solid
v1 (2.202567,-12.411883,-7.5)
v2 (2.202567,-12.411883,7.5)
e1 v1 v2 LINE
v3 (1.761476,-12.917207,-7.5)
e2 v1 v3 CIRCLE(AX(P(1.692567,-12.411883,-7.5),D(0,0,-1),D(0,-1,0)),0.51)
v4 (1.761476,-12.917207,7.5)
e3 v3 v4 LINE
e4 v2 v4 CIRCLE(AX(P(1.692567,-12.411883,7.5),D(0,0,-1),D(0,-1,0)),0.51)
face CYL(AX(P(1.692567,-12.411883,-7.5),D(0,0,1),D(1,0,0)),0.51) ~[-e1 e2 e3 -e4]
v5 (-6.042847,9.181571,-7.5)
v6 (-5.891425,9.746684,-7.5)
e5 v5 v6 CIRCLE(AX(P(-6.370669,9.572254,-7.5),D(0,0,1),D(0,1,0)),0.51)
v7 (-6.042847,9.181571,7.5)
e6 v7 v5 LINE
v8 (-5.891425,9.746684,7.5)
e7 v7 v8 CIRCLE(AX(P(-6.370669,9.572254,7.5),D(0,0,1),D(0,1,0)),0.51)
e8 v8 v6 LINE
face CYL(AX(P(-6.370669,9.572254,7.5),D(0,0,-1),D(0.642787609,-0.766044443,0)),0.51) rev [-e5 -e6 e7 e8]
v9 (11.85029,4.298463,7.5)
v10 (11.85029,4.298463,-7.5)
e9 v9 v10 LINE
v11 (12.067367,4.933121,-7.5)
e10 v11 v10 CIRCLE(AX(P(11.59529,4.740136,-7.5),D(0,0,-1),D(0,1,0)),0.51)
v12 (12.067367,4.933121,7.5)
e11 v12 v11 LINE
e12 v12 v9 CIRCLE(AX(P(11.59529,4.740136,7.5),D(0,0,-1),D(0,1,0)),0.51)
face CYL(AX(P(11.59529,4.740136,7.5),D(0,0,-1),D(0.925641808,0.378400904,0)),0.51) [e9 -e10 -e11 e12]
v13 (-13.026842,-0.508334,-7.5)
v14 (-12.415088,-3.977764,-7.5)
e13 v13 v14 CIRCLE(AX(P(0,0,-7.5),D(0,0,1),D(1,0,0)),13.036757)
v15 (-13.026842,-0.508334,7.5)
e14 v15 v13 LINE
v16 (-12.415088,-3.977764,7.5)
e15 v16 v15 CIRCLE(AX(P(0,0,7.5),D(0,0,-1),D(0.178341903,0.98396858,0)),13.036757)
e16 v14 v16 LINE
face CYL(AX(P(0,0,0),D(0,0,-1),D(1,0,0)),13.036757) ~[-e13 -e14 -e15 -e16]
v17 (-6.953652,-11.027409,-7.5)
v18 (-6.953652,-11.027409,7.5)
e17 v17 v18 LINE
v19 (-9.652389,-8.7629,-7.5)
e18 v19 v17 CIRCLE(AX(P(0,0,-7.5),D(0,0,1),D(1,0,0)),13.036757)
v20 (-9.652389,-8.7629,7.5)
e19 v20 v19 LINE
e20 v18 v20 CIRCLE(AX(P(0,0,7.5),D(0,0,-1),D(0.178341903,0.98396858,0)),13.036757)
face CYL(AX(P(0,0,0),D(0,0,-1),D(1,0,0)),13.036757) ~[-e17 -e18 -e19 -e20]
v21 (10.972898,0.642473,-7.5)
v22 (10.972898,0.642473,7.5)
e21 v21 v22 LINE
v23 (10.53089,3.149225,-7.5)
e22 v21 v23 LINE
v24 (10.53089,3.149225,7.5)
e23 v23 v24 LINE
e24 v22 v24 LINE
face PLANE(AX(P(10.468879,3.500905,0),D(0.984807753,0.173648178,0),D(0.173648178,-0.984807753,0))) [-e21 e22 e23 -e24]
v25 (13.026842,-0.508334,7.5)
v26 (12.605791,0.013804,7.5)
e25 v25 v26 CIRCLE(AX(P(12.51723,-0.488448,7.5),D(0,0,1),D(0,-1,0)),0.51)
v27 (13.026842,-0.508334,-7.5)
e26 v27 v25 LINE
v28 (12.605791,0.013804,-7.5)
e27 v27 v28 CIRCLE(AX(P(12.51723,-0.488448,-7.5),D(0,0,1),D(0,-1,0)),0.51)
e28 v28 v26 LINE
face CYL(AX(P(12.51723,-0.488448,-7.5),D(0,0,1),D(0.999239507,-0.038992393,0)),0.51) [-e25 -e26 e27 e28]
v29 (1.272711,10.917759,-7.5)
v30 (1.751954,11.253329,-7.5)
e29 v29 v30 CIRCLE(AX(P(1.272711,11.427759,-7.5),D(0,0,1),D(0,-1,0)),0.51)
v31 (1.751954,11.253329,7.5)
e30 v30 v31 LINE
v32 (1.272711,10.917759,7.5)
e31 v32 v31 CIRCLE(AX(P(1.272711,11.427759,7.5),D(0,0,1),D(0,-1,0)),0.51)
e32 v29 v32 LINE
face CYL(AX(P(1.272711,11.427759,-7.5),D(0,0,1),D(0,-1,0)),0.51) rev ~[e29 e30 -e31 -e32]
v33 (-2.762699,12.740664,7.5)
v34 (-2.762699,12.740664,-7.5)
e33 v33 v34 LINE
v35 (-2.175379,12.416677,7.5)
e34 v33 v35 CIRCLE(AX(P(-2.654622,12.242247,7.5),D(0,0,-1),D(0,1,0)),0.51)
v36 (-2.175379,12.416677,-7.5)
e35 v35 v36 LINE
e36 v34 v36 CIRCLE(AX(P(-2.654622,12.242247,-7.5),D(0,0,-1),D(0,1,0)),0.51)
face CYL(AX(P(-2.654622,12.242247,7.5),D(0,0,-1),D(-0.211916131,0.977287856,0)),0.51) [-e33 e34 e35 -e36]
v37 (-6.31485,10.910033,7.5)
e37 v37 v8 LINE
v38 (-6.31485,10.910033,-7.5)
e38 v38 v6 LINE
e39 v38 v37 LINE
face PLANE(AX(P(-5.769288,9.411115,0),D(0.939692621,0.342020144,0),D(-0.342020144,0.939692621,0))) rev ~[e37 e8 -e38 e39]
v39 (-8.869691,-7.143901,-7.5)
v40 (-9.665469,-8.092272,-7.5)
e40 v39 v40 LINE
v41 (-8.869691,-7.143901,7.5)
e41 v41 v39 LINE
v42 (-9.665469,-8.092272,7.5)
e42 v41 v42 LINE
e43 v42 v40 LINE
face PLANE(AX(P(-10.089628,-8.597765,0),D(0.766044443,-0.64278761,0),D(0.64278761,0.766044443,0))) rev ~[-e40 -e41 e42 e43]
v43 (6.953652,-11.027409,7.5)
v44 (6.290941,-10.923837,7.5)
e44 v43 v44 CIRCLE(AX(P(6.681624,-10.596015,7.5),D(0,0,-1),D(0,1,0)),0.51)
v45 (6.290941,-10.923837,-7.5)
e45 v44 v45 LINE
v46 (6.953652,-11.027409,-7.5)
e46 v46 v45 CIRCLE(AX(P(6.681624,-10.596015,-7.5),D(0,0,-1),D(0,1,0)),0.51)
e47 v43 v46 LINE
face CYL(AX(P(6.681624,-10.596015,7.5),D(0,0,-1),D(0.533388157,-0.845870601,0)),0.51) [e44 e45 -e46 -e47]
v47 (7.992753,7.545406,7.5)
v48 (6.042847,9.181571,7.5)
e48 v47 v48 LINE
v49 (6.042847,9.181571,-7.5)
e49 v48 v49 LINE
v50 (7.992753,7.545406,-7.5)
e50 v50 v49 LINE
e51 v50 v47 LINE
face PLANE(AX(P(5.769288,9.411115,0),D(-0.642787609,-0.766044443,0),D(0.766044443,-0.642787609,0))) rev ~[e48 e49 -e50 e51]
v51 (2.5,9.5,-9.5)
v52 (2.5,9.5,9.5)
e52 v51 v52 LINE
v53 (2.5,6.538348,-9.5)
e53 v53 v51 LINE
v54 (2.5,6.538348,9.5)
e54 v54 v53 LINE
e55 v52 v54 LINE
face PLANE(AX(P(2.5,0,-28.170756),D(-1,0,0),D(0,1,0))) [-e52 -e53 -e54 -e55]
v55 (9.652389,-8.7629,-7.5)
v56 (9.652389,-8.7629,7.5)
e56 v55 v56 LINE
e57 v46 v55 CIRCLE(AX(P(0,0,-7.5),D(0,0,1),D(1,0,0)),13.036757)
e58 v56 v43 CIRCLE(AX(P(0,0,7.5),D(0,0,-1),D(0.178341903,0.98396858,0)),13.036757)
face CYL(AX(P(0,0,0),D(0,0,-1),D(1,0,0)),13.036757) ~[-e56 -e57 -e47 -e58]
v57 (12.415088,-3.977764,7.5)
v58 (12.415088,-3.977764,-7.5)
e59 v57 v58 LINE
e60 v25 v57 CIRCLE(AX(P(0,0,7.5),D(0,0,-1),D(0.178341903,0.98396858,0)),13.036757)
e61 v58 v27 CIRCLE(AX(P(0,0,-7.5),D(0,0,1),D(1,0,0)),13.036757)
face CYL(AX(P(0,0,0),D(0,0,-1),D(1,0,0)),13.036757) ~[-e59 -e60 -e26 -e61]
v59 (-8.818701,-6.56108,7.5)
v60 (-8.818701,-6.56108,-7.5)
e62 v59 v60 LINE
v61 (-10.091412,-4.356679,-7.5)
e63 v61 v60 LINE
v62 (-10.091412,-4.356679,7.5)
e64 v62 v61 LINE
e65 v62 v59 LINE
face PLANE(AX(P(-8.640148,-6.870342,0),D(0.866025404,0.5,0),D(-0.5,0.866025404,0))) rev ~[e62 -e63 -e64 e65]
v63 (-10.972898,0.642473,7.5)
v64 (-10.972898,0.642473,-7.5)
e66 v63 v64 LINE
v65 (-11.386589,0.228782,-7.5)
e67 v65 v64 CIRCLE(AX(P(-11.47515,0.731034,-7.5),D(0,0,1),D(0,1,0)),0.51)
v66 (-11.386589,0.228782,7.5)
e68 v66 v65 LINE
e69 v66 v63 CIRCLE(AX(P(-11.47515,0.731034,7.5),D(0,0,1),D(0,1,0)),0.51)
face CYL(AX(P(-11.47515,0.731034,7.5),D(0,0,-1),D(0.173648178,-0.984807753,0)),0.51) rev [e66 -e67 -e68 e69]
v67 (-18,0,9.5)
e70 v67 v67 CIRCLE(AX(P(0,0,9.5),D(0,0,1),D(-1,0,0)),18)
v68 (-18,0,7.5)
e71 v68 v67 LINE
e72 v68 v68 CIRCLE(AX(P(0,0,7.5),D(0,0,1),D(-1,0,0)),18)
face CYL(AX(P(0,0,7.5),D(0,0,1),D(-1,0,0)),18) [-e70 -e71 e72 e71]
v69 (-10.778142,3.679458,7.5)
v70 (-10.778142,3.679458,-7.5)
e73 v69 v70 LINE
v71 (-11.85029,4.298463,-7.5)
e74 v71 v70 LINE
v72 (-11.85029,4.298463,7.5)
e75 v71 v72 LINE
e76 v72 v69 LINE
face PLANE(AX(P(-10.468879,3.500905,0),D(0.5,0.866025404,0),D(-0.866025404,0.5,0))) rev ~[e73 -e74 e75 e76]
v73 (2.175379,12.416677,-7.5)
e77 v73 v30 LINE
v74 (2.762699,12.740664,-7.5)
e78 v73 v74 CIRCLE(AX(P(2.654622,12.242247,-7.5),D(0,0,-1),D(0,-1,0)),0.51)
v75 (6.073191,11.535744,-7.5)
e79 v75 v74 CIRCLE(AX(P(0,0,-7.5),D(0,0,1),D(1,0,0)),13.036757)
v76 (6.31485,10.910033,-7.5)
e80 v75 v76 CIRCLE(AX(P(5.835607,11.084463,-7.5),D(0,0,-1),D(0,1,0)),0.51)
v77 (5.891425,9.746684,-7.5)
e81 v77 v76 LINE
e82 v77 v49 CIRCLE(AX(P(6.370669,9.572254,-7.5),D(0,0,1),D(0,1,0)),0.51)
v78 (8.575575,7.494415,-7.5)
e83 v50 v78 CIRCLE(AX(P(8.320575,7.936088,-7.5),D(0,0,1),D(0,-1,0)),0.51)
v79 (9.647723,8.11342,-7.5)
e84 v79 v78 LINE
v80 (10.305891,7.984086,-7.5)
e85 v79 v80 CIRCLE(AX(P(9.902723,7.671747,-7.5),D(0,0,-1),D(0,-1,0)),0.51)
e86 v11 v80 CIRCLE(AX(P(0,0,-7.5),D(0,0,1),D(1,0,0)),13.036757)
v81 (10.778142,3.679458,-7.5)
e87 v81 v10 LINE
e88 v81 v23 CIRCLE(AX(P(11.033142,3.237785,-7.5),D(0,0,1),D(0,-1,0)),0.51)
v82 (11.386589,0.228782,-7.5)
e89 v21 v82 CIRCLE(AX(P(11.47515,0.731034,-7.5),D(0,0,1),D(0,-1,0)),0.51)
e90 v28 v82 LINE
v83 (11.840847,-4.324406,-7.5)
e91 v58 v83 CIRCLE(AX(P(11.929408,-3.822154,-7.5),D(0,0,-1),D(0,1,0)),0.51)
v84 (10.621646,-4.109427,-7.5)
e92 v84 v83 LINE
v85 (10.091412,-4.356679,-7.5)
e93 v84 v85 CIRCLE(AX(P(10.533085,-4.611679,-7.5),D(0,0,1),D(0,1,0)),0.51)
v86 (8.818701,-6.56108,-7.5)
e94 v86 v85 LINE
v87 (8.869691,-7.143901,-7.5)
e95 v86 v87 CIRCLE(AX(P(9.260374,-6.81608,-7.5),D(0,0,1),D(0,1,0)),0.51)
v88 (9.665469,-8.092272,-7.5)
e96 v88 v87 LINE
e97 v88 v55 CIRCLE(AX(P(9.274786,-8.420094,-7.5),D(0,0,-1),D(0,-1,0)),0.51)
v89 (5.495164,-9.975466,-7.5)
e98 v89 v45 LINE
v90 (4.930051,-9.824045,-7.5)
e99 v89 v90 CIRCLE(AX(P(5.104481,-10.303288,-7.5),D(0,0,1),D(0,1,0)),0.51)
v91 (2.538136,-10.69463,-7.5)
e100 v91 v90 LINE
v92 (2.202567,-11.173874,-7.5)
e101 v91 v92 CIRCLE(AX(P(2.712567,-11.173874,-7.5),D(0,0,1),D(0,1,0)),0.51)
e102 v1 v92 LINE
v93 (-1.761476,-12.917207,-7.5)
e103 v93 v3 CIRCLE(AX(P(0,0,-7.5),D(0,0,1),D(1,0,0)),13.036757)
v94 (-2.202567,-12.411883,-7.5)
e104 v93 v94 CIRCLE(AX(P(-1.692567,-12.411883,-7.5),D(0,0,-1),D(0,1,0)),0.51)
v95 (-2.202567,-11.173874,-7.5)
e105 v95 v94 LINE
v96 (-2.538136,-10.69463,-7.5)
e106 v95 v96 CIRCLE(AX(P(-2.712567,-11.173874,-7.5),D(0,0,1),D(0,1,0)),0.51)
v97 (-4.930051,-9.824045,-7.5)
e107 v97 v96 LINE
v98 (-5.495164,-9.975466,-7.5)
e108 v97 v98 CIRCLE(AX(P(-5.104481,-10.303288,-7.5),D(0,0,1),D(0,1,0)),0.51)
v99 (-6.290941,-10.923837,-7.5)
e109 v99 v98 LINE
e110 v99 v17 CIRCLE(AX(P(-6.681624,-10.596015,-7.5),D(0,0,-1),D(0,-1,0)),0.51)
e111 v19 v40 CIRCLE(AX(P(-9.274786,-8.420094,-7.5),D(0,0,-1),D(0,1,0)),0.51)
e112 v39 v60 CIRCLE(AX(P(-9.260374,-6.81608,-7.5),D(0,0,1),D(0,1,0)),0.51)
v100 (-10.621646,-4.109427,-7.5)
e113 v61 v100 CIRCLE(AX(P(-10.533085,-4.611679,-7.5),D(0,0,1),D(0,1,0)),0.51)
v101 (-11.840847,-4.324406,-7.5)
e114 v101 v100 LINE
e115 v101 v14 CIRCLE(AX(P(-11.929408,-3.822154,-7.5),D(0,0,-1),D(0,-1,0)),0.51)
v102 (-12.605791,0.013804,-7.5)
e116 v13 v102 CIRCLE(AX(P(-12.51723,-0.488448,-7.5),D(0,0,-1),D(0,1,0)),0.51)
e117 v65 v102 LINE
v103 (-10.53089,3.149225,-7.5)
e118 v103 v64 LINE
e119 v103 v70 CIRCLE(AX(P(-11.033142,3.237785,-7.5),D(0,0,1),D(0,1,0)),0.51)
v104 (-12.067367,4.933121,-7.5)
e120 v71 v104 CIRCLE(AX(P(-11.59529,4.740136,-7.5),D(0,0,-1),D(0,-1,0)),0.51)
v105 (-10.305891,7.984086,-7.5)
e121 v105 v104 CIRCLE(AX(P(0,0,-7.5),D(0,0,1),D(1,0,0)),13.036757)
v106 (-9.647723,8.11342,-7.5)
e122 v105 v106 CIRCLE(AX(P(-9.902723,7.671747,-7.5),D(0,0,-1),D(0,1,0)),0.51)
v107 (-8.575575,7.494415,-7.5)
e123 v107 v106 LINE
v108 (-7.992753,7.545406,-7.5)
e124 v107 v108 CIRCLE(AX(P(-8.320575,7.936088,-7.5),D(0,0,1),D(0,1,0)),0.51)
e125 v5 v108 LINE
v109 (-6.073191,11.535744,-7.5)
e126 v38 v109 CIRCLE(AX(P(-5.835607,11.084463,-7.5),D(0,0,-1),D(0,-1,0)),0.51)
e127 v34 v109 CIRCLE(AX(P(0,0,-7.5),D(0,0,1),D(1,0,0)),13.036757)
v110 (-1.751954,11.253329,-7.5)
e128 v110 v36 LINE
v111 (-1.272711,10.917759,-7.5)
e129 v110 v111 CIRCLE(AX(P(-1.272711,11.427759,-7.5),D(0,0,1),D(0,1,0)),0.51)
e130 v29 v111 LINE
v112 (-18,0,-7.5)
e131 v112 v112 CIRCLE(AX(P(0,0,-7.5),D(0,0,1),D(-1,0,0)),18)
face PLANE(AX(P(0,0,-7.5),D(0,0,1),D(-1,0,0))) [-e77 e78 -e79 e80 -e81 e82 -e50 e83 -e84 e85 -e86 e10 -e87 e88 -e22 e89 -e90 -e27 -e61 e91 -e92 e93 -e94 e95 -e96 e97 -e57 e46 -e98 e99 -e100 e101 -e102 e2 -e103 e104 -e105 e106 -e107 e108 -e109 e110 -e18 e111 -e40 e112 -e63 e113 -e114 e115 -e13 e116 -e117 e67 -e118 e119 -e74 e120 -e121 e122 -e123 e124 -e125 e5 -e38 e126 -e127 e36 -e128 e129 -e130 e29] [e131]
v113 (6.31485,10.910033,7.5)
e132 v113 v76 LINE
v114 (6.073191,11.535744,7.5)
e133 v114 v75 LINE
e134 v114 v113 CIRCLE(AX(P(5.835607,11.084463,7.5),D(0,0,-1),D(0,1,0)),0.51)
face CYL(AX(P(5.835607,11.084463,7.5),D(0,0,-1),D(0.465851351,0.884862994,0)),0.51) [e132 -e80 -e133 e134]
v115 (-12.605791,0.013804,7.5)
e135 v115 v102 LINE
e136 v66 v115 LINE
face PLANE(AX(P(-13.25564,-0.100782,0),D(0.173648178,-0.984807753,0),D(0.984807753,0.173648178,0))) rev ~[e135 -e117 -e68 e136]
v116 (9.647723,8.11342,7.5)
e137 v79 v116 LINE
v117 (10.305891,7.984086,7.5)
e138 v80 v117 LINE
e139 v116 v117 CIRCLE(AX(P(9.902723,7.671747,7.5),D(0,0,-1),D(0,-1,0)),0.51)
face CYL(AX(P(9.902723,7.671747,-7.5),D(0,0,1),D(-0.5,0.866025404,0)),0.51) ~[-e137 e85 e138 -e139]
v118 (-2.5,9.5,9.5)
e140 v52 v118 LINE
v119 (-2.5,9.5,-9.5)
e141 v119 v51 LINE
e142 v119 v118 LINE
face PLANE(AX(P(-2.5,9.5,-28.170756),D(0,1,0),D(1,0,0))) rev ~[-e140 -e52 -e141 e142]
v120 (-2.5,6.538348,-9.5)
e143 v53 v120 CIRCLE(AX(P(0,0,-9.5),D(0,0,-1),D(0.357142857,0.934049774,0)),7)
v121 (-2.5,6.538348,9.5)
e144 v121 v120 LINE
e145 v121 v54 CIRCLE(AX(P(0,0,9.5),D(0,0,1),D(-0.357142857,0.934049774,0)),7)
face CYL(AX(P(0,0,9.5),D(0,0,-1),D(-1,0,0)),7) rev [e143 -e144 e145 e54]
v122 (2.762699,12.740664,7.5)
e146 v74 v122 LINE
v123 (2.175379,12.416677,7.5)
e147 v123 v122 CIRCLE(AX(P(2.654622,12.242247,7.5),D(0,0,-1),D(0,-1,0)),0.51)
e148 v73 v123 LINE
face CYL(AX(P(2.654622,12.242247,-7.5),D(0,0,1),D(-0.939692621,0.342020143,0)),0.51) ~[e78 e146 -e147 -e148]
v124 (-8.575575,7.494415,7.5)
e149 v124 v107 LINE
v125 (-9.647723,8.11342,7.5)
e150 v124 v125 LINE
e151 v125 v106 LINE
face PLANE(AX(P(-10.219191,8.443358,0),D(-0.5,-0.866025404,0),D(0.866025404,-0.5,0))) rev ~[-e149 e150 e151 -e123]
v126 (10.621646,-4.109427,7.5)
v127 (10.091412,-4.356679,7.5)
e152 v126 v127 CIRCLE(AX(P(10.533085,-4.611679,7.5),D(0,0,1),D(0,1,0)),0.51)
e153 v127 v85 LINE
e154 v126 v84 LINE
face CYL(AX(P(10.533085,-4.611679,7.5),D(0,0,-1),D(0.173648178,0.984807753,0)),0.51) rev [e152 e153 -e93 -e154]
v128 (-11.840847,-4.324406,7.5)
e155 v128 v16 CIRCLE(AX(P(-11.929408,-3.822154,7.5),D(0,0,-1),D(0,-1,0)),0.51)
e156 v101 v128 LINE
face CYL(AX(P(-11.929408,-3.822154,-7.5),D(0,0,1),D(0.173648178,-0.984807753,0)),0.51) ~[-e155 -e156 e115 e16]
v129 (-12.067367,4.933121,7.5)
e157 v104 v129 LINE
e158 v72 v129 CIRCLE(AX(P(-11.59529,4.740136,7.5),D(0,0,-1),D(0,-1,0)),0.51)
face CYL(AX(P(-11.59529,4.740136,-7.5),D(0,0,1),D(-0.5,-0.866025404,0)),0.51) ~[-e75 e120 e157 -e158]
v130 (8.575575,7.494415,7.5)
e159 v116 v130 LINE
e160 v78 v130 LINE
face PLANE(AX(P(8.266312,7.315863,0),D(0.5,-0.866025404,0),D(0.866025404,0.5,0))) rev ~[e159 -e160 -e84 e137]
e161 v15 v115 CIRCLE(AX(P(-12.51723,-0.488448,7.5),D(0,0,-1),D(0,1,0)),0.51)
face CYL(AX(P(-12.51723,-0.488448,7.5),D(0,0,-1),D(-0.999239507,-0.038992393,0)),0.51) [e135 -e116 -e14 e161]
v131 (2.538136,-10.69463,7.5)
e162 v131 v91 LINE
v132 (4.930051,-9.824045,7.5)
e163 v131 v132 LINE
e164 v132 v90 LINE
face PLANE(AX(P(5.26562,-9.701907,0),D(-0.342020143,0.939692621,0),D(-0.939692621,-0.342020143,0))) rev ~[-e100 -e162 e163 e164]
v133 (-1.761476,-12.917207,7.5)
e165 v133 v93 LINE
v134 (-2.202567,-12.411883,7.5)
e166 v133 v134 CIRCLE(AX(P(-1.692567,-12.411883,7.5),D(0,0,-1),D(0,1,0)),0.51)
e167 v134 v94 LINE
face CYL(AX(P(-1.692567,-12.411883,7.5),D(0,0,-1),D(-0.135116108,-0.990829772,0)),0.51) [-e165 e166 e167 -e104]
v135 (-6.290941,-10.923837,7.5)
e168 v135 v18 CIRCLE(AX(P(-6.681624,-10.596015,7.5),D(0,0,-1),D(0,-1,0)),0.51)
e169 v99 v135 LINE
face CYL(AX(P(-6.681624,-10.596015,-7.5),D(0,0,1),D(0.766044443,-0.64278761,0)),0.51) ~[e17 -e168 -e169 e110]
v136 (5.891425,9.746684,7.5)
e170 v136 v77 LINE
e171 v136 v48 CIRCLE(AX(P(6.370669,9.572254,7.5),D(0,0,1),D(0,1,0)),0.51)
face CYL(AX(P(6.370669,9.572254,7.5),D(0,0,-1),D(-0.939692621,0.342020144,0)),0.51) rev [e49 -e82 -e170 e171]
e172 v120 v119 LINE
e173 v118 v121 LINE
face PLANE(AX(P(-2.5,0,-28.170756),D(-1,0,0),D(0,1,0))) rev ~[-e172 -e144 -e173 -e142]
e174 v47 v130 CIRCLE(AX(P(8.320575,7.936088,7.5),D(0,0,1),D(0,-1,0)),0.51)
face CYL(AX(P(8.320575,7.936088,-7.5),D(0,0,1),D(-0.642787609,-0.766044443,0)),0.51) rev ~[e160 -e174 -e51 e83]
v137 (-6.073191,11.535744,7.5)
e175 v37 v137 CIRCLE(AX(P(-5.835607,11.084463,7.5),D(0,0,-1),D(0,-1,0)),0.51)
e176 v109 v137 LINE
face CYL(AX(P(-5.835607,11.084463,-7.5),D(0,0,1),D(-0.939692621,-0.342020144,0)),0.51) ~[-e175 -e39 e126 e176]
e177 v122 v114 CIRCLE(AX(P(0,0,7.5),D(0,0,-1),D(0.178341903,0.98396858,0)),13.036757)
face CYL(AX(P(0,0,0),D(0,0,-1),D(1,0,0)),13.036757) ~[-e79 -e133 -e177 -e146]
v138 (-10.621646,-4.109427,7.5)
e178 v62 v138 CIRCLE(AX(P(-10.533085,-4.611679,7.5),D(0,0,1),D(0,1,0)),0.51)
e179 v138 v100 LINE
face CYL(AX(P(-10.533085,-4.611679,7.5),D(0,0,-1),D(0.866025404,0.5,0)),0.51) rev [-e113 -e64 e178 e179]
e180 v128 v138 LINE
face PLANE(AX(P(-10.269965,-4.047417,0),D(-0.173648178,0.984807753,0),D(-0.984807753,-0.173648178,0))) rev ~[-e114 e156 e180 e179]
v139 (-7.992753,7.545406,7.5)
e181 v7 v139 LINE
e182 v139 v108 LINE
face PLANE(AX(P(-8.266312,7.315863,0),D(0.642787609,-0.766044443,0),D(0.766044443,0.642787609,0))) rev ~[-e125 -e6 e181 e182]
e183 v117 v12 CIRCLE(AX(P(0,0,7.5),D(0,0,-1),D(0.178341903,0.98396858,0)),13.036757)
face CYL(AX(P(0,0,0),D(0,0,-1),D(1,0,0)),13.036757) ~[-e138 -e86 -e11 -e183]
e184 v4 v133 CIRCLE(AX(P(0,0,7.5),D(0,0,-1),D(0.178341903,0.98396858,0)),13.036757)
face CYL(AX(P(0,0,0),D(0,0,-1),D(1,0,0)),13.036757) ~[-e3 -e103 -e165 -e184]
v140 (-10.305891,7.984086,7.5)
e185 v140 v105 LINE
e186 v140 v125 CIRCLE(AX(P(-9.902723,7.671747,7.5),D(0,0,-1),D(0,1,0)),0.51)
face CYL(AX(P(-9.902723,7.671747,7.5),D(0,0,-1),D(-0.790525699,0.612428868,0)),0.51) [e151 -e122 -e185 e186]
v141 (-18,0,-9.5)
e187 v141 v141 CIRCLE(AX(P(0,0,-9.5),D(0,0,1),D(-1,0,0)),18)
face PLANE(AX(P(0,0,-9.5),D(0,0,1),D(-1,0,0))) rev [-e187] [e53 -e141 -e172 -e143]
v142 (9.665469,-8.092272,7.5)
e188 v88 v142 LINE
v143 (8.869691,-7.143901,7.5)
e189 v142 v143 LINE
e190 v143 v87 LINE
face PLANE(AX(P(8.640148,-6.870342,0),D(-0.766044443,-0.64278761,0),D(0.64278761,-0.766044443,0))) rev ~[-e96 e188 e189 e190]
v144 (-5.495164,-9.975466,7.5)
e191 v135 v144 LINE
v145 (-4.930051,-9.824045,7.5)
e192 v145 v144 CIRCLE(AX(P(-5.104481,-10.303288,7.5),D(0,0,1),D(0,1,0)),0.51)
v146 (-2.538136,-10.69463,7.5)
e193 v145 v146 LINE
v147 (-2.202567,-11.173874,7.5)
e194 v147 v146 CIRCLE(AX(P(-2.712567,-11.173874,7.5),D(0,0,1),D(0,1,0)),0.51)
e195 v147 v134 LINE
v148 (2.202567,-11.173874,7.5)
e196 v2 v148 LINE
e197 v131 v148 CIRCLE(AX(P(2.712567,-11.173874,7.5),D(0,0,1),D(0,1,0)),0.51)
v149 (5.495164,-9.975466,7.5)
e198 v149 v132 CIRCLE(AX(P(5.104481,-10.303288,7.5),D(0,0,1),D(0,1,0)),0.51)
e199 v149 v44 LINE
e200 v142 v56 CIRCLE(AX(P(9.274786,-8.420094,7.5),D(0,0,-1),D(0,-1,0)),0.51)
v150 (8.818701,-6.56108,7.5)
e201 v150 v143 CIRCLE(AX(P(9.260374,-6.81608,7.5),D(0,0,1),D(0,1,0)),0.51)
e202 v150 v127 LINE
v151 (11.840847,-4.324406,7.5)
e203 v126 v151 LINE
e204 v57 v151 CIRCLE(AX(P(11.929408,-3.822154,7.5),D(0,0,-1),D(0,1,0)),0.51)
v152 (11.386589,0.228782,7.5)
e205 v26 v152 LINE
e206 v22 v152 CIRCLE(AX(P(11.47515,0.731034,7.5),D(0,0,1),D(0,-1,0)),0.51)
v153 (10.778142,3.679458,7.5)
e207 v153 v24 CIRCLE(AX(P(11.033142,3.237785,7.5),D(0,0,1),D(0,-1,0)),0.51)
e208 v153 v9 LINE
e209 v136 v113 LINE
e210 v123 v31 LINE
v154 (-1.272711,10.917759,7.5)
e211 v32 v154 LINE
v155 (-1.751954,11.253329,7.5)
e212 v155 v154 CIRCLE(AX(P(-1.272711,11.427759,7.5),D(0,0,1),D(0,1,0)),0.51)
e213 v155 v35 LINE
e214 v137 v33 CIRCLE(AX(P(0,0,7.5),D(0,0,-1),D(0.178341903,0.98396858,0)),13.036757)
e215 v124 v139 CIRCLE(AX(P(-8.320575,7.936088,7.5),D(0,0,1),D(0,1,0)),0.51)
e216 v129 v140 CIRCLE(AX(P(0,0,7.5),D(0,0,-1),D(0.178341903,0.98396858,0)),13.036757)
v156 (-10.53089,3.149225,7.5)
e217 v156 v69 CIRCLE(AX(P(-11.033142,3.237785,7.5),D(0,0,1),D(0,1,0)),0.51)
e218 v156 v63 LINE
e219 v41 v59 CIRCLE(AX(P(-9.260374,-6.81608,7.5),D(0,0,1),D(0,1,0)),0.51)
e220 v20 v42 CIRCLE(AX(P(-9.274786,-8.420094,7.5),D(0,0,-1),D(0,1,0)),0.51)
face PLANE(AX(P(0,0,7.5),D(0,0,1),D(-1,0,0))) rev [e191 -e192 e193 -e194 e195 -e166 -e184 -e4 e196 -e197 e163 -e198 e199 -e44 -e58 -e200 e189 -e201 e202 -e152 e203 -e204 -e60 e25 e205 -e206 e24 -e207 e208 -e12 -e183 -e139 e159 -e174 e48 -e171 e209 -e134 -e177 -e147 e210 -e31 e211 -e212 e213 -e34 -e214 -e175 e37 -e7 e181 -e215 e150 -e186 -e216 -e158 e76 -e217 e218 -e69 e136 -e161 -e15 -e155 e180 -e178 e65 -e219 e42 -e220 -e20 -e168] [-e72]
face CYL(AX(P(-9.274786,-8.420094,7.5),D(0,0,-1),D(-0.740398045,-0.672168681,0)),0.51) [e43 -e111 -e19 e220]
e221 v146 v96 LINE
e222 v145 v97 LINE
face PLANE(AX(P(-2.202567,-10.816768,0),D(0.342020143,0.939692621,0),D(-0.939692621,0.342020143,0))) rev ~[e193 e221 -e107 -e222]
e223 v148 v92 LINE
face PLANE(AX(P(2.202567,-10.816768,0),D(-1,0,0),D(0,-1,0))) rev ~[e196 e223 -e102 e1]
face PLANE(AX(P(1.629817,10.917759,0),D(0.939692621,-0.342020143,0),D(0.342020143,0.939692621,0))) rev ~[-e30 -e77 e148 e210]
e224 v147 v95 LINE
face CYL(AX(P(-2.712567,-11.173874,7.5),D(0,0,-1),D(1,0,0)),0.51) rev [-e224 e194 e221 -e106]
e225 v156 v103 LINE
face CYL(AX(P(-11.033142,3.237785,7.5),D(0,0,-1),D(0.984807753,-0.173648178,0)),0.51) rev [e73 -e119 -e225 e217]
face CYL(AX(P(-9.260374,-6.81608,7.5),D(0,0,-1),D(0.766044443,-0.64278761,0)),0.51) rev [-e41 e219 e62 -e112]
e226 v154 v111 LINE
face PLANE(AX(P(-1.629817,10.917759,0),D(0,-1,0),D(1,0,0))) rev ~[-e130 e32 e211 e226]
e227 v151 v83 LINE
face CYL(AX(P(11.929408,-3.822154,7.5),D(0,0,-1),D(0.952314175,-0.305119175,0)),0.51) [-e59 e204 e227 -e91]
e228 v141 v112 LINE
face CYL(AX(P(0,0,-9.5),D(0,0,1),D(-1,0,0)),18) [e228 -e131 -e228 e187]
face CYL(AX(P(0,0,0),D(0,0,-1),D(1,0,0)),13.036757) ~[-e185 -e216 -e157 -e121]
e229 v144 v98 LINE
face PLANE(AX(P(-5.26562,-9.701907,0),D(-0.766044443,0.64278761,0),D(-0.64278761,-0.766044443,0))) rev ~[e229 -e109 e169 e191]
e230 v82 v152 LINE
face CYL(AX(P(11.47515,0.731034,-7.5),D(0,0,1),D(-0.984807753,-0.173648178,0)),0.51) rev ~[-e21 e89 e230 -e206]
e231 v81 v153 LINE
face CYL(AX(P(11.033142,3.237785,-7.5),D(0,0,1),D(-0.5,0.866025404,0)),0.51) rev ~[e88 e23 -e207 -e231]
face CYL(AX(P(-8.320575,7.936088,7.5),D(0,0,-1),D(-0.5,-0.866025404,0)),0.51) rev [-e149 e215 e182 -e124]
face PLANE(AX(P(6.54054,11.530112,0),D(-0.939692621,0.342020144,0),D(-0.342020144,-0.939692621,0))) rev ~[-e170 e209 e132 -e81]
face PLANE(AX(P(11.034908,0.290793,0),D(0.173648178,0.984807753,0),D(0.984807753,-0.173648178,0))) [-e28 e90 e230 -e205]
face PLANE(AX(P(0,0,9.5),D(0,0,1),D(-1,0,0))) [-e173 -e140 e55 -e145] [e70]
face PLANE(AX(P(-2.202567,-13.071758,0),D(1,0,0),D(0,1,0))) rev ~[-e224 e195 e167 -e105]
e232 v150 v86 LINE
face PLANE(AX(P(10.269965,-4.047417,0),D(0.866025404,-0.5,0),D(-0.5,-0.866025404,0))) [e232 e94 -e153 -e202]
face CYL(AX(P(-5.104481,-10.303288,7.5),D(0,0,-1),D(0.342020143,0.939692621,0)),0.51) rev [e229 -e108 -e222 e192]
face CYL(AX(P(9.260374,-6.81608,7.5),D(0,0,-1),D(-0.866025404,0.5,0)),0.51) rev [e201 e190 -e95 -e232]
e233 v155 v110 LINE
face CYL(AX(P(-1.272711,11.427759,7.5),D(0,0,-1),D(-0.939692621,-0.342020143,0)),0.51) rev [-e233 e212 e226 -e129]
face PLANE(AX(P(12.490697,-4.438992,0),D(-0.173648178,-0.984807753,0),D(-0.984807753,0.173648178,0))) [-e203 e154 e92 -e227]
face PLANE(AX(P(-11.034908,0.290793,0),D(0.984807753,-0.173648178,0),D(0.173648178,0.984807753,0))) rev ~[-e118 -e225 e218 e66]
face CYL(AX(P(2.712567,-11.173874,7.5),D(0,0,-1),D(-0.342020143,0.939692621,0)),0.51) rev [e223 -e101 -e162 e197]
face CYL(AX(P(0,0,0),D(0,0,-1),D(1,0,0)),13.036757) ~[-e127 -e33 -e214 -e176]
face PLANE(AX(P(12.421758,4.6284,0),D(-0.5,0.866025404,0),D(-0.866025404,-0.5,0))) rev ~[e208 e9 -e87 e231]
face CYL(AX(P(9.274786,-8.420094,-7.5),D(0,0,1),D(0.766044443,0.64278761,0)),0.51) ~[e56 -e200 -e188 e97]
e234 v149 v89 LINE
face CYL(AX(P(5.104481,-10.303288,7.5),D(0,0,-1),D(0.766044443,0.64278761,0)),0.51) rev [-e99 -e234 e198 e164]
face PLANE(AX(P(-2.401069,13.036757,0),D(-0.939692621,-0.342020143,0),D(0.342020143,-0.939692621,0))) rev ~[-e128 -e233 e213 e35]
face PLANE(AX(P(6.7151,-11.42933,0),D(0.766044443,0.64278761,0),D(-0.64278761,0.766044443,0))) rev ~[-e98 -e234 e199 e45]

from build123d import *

# Parameters (mm, degrees)
CUT_EXTRUDE1_DEPTH              = 28.170756338
CUT_EXTRUDE1_DEPTH_BACK         = 28.170756338
SKETCH3_W                       = 5
SKETCH3_H                       = 9.5
BOSS_EXTRUDE1_REACH             = 29.171
SKETCH4_R                       = 13.03675669
SKETCH4_R_2                     = 11
BOSS_EXTRUDE1_DIRECTION_2_REACH = 29.171
CUT_EXTRUDE2_REACH              = 29.171
CUT_EXTRUDE2_DIRECTION_2_REACH  = 29.171
FILLET1_R                       = 0.51


with BuildPart() as part:
    # Sketch2 → Revolve1 (revolve)
    with BuildSketch(Plane(origin=(0, 0, 0), x_dir=(1, 0, 0), z_dir=(0, 1, 0)), mode=Mode.PRIVATE) as revolve1_sk:
        Polygon((7, -9.5), (7, 9.5), (18, 9.5), (18, 7.5), (11, 7.5), (11, -7.5), (18, -7.5), (18, -9.5), align=None)
    revolve(revolve1_sk.sketch.rotate(Axis((0, 0, -36.129595921), (0, 0, 1)), 180), axis=Axis((0, 0, -36.129595921), (0, 0, 1)))

    # Sketch3 → Cut-Extrude1 (cut, two sides: drawn at the far end of the back side and taken through both)
    with BuildSketch(Plane.XY.offset(-CUT_EXTRUDE1_DEPTH_BACK)):
        with Locations((0, 4.75)):
            Rectangle(SKETCH3_W, SKETCH3_H)
    extrude(amount=CUT_EXTRUDE1_DEPTH + CUT_EXTRUDE1_DEPTH_BACK, mode=Mode.SUBTRACT)

    # Sketch4 → Boss-Extrude1 (add, up to next)
    with BuildSketch(Plane.XY, mode=Mode.PRIVATE) as boss_extrude1_sk1:
        Circle(SKETCH4_R)
        Circle(SKETCH4_R_2, mode=Mode.SUBTRACT)
    boss_extrude1_tool1 = extrude(boss_extrude1_sk1.sketch, amount=BOSS_EXTRUDE1_REACH, mode=Mode.PRIVATE) - part.part
    add(boss_extrude1_tool1.solids().sort_by_distance((-12.668022, 0, 0))[0])

    # Sketch4 → Boss-Extrude1 direction 2 (add, up to next)
    with BuildSketch(Plane.XY, mode=Mode.PRIVATE) as boss_extrude1_direction_2_sk1:
        Circle(SKETCH4_R)
        Circle(SKETCH4_R_2, mode=Mode.SUBTRACT)
    boss_extrude1_direction_2_tool1 = extrude(boss_extrude1_direction_2_sk1.sketch, amount=-BOSS_EXTRUDE1_DIRECTION_2_REACH, mode=Mode.PRIVATE) - part.part
    add(boss_extrude1_direction_2_tool1.solids().sort_by_distance((-12.668022, 0, 0))[0])

    # Cut-Extrude2: up to this face of the body (flat: up to its plane)
    cut_extrude2_end = Plane(part.part.faces().sort_by_distance((17.490883118, 0, -7.5))[0])
    # Sketch5 → Cut-Extrude2 (cut, up to the picked face)
    with BuildSketch(Plane.XY, mode=Mode.PRIVATE) as cut_extrude2_sk1:
        Polygon((-1.629816853, 10.917758962), (1.629816853, 10.917758962), (2.401068952, 13.03675669), (-2.401068952, 13.03675669), align=None)
    cut_extrude2_tool1 = split(extrude(cut_extrude2_sk1.sketch, amount=-CUT_EXTRUDE2_REACH, mode=Mode.PRIVATE), bisect_by=cut_extrude2_end, keep=Keep.BOTH, mode=Mode.PRIVATE)
    # Sketch5 → Cut-Extrude2 (cut, up to the picked face)
    with BuildSketch(Plane.XY, mode=Mode.PRIVATE) as cut_extrude2_sk2:
        Polygon((5.769288043, 9.411114663), (8.26631233, 7.315862506), (10.219191199, 8.443357646), (6.540540143, 11.530112391), align=None)
    cut_extrude2_tool2 = split(extrude(cut_extrude2_sk2.sketch, amount=-CUT_EXTRUDE2_REACH, mode=Mode.PRIVATE), bisect_by=cut_extrude2_end, keep=Keep.BOTH, mode=Mode.PRIVATE)
    # Sketch5 → Cut-Extrude2 (cut, up to the picked face)
    with BuildSketch(Plane.XY, mode=Mode.PRIVATE) as cut_extrude2_sk3:
        Polygon((10.468878945, 3.50090522), (11.034908398, 0.290792676), (13.25564031, -0.100782277), (12.421757815, 4.628400361), align=None)
    cut_extrude2_tool3 = split(extrude(cut_extrude2_sk3.sketch, amount=-CUT_EXTRUDE2_REACH, mode=Mode.PRIVATE), bisect_by=cut_extrude2_end, keep=Keep.BOTH, mode=Mode.PRIVATE)
    # Sketch5 → Cut-Extrude2 (cut, up to the picked face)
    with BuildSketch(Plane.XY, mode=Mode.PRIVATE) as cut_extrude2_sk4:
        Polygon((10.26996504, -4.047416683), (8.640148187, -6.870342279), (10.089628001, -8.597765054), (12.490696953, -4.438991636), align=None)
    cut_extrude2_tool4 = split(extrude(cut_extrude2_sk4.sketch, amount=-CUT_EXTRUDE2_REACH, mode=Mode.PRIVATE), bisect_by=cut_extrude2_end, keep=Keep.BOTH, mode=Mode.PRIVATE)
    # Sketch5 → Cut-Extrude2 (cut, up to the picked face)
    with BuildSketch(Plane.XY, mode=Mode.PRIVATE) as cut_extrude2_sk5:
        Polygon((5.265620355, -9.701907339), (2.202566616, -10.816767726), (2.202566616, -13.071758008), (6.715100168, -11.429330114), align=None)
    cut_extrude2_tool5 = split(extrude(cut_extrude2_sk5.sketch, amount=-CUT_EXTRUDE2_REACH, mode=Mode.PRIVATE), bisect_by=cut_extrude2_end, keep=Keep.BOTH, mode=Mode.PRIVATE)
    # Sketch5 → Cut-Extrude2 (cut, up to the picked face)
    with BuildSketch(Plane.XY, mode=Mode.PRIVATE) as cut_extrude2_sk6:
        Polygon((-2.202566616, -10.816767726), (-5.265620355, -9.701907339), (-6.715100168, -11.429330114), (-2.202566616, -13.071758008), align=None)
    cut_extrude2_tool6 = split(extrude(cut_extrude2_sk6.sketch, amount=-CUT_EXTRUDE2_REACH, mode=Mode.PRIVATE), bisect_by=cut_extrude2_end, keep=Keep.BOTH, mode=Mode.PRIVATE)
    # Sketch5 → Cut-Extrude2 (cut, up to the picked face)
    with BuildSketch(Plane.XY, mode=Mode.PRIVATE) as cut_extrude2_sk7:
        Polygon((-8.640148187, -6.870342279), (-10.26996504, -4.047416683), (-12.490696953, -4.438991636), (-10.089628001, -8.597765054), align=None)
    cut_extrude2_tool7 = split(extrude(cut_extrude2_sk7.sketch, amount=-CUT_EXTRUDE2_REACH, mode=Mode.PRIVATE), bisect_by=cut_extrude2_end, keep=Keep.BOTH, mode=Mode.PRIVATE)
    # Sketch5 → Cut-Extrude2 (cut, up to the picked face)
    with BuildSketch(Plane.XY, mode=Mode.PRIVATE) as cut_extrude2_sk8:
        Polygon((-11.034908398, 0.290792676), (-10.468878945, 3.50090522), (-12.421757815, 4.628400361), (-13.25564031, -0.100782277), align=None)
    cut_extrude2_tool8 = split(extrude(cut_extrude2_sk8.sketch, amount=-CUT_EXTRUDE2_REACH, mode=Mode.PRIVATE), bisect_by=cut_extrude2_end, keep=Keep.BOTH, mode=Mode.PRIVATE)
    # Sketch5 → Cut-Extrude2 (cut, up to the picked face)
    with BuildSketch(Plane.XY, mode=Mode.PRIVATE) as cut_extrude2_sk9:
        Polygon((-8.26631233, 7.315862506), (-5.769288043, 9.411114663), (-6.540540143, 11.530112391), (-10.219191199, 8.443357646), align=None)
    cut_extrude2_tool9 = split(extrude(cut_extrude2_sk9.sketch, amount=-CUT_EXTRUDE2_REACH, mode=Mode.PRIVATE), bisect_by=cut_extrude2_end, keep=Keep.BOTH, mode=Mode.PRIVATE)
    add(cut_extrude2_tool1.solids().sort_by(Axis((0, 12.044831, 0), (0, 0, -1)))[0], mode=Mode.SUBTRACT)
    add(cut_extrude2_tool2.solids().sort_by(Axis((7.742268, 9.226876, 0), (0, 0, -1)))[0], mode=Mode.SUBTRACT)
    add(cut_extrude2_tool3.solids().sort_by(Axis((11.861843, 2.091563, 0), (0, 0, -1)))[0], mode=Mode.SUBTRACT)
    add(cut_extrude2_tool4.solids().sort_by(Axis((10.43113, -6.022416, 0), (0, 0, -1)))[0], mode=Mode.SUBTRACT)
    add(cut_extrude2_tool5.solids().sort_by(Axis((4.119575, -11.318439, 0), (0, 0, -1)))[0], mode=Mode.SUBTRACT)
    add(cut_extrude2_tool6.solids().sort_by(Axis((-4.119575, -11.318439, 0), (0, 0, -1)))[0], mode=Mode.SUBTRACT)
    add(cut_extrude2_tool7.solids().sort_by(Axis((-10.43113, -6.022416, 0), (0, 0, -1)))[0], mode=Mode.SUBTRACT)
    add(cut_extrude2_tool8.solids().sort_by(Axis((-11.861843, 2.091563, 0), (0, 0, -1)))[0], mode=Mode.SUBTRACT)
    add(cut_extrude2_tool9.solids().sort_by(Axis((-7.742268, 9.226876, 0), (0, 0, -1)))[0], mode=Mode.SUBTRACT)

    # Cut-Extrude2 direction 2: up to this face of the body (flat: up to its plane)
    cut_extrude2_direction_2_end = Plane(part.part.faces().sort_by_distance((17.490883118, 0, 7.5))[0])
    # Sketch5 → Cut-Extrude2 direction 2 (cut, up to the picked face)
    with BuildSketch(Plane.XY, mode=Mode.PRIVATE) as cut_extrude2_direction_2_sk1:
        Polygon((-1.629816853, 10.917758962), (1.629816853, 10.917758962), (2.401068952, 13.03675669), (-2.401068952, 13.03675669), align=None)
    cut_extrude2_direction_2_tool1 = split(extrude(cut_extrude2_direction_2_sk1.sketch, amount=CUT_EXTRUDE2_DIRECTION_2_REACH, mode=Mode.PRIVATE), bisect_by=cut_extrude2_direction_2_end, keep=Keep.BOTH, mode=Mode.PRIVATE)
    # Sketch5 → Cut-Extrude2 direction 2 (cut, up to the picked face)
    with BuildSketch(Plane.XY, mode=Mode.PRIVATE) as cut_extrude2_direction_2_sk2:
        Polygon((5.769288043, 9.411114663), (8.26631233, 7.315862506), (10.219191199, 8.443357646), (6.540540143, 11.530112391), align=None)
    cut_extrude2_direction_2_tool2 = split(extrude(cut_extrude2_direction_2_sk2.sketch, amount=CUT_EXTRUDE2_DIRECTION_2_REACH, mode=Mode.PRIVATE), bisect_by=cut_extrude2_direction_2_end, keep=Keep.BOTH, mode=Mode.PRIVATE)
    # Sketch5 → Cut-Extrude2 direction 2 (cut, up to the picked face)
    with BuildSketch(Plane.XY, mode=Mode.PRIVATE) as cut_extrude2_direction_2_sk3:
        Polygon((10.468878945, 3.50090522), (11.034908398, 0.290792676), (13.25564031, -0.100782277), (12.421757815, 4.628400361), align=None)
    cut_extrude2_direction_2_tool3 = split(extrude(cut_extrude2_direction_2_sk3.sketch, amount=CUT_EXTRUDE2_DIRECTION_2_REACH, mode=Mode.PRIVATE), bisect_by=cut_extrude2_direction_2_end, keep=Keep.BOTH, mode=Mode.PRIVATE)
    # Sketch5 → Cut-Extrude2 direction 2 (cut, up to the picked face)
    with BuildSketch(Plane.XY, mode=Mode.PRIVATE) as cut_extrude2_direction_2_sk4:
        Polygon((10.26996504, -4.047416683), (8.640148187, -6.870342279), (10.089628001, -8.597765054), (12.490696953, -4.438991636), align=None)
    cut_extrude2_direction_2_tool4 = split(extrude(cut_extrude2_direction_2_sk4.sketch, amount=CUT_EXTRUDE2_DIRECTION_2_REACH, mode=Mode.PRIVATE), bisect_by=cut_extrude2_direction_2_end, keep=Keep.BOTH, mode=Mode.PRIVATE)
    # Sketch5 → Cut-Extrude2 direction 2 (cut, up to the picked face)
    with BuildSketch(Plane.XY, mode=Mode.PRIVATE) as cut_extrude2_direction_2_sk5:
        Polygon((5.265620355, -9.701907339), (2.202566616, -10.816767726), (2.202566616, -13.071758008), (6.715100168, -11.429330114), align=None)
    cut_extrude2_direction_2_tool5 = split(extrude(cut_extrude2_direction_2_sk5.sketch, amount=CUT_EXTRUDE2_DIRECTION_2_REACH, mode=Mode.PRIVATE), bisect_by=cut_extrude2_direction_2_end, keep=Keep.BOTH, mode=Mode.PRIVATE)
    # Sketch5 → Cut-Extrude2 direction 2 (cut, up to the picked face)
    with BuildSketch(Plane.XY, mode=Mode.PRIVATE) as cut_extrude2_direction_2_sk6:
        Polygon((-2.202566616, -10.816767726), (-5.265620355, -9.701907339), (-6.715100168, -11.429330114), (-2.202566616, -13.071758008), align=None)
    cut_extrude2_direction_2_tool6 = split(extrude(cut_extrude2_direction_2_sk6.sketch, amount=CUT_EXTRUDE2_DIRECTION_2_REACH, mode=Mode.PRIVATE), bisect_by=cut_extrude2_direction_2_end, keep=Keep.BOTH, mode=Mode.PRIVATE)
    # Sketch5 → Cut-Extrude2 direction 2 (cut, up to the picked face)
    with BuildSketch(Plane.XY, mode=Mode.PRIVATE) as cut_extrude2_direction_2_sk7:
        Polygon((-8.640148187, -6.870342279), (-10.26996504, -4.047416683), (-12.490696953, -4.438991636), (-10.089628001, -8.597765054), align=None)
    cut_extrude2_direction_2_tool7 = split(extrude(cut_extrude2_direction_2_sk7.sketch, amount=CUT_EXTRUDE2_DIRECTION_2_REACH, mode=Mode.PRIVATE), bisect_by=cut_extrude2_direction_2_end, keep=Keep.BOTH, mode=Mode.PRIVATE)
    # Sketch5 → Cut-Extrude2 direction 2 (cut, up to the picked face)
    with BuildSketch(Plane.XY, mode=Mode.PRIVATE) as cut_extrude2_direction_2_sk8:
        Polygon((-11.034908398, 0.290792676), (-10.468878945, 3.50090522), (-12.421757815, 4.628400361), (-13.25564031, -0.100782277), align=None)
    cut_extrude2_direction_2_tool8 = split(extrude(cut_extrude2_direction_2_sk8.sketch, amount=CUT_EXTRUDE2_DIRECTION_2_REACH, mode=Mode.PRIVATE), bisect_by=cut_extrude2_direction_2_end, keep=Keep.BOTH, mode=Mode.PRIVATE)
    # Sketch5 → Cut-Extrude2 direction 2 (cut, up to the picked face)
    with BuildSketch(Plane.XY, mode=Mode.PRIVATE) as cut_extrude2_direction_2_sk9:
        Polygon((-8.26631233, 7.315862506), (-5.769288043, 9.411114663), (-6.540540143, 11.530112391), (-10.219191199, 8.443357646), align=None)
    cut_extrude2_direction_2_tool9 = split(extrude(cut_extrude2_direction_2_sk9.sketch, amount=CUT_EXTRUDE2_DIRECTION_2_REACH, mode=Mode.PRIVATE), bisect_by=cut_extrude2_direction_2_end, keep=Keep.BOTH, mode=Mode.PRIVATE)
    add(cut_extrude2_direction_2_tool1.solids().sort_by(Axis((0, 12.044831, 0), (0, 0, 1)))[0], mode=Mode.SUBTRACT)
    add(cut_extrude2_direction_2_tool2.solids().sort_by(Axis((7.742268, 9.226876, 0), (0, 0, 1)))[0], mode=Mode.SUBTRACT)
    add(cut_extrude2_direction_2_tool3.solids().sort_by(Axis((11.861843, 2.091563, 0), (0, 0, 1)))[0], mode=Mode.SUBTRACT)
    add(cut_extrude2_direction_2_tool4.solids().sort_by(Axis((10.43113, -6.022416, 0), (0, 0, 1)))[0], mode=Mode.SUBTRACT)
    add(cut_extrude2_direction_2_tool5.solids().sort_by(Axis((4.119575, -11.318439, 0), (0, 0, 1)))[0], mode=Mode.SUBTRACT)
    add(cut_extrude2_direction_2_tool6.solids().sort_by(Axis((-4.119575, -11.318439, 0), (0, 0, 1)))[0], mode=Mode.SUBTRACT)
    add(cut_extrude2_direction_2_tool7.solids().sort_by(Axis((-10.43113, -6.022416, 0), (0, 0, 1)))[0], mode=Mode.SUBTRACT)
    add(cut_extrude2_direction_2_tool8.solids().sort_by(Axis((-11.861843, 2.091563, 0), (0, 0, 1)))[0], mode=Mode.SUBTRACT)
    add(cut_extrude2_direction_2_tool9.solids().sort_by(Axis((-7.742268, 9.226876, 0), (0, 0, 1)))[0], mode=Mode.SUBTRACT)

    # Fillet1
    fillet1_edges = [part.edges().sort_by_distance(p)[0] for p in [
        (-5.769288043, 9.411114663, 0),
        (-8.26631233, 7.315862506, 0),
        (-10.468878945, 3.50090522, 0),
        (-11.034908398, 0.290792676, 0),
        (-10.26996504, -4.047416683, 0),
        (-8.640148187, -6.870342279, 0),
        (-5.265620355, -9.701907339, 0),
        (-2.202566616, -10.816767726, 0),
        (2.202566616, -10.816767726, 0),
        (5.265620355, -9.701907339, 0),
        (8.640148187, -6.870342279, 0),
        (10.26996504, -4.047416683, 0),
        (11.034908398, 0.290792676, 0),
        (10.468878945, 3.50090522, 0),
        (8.26631233, 7.315862506, 0),
        (5.769288043, 9.411114663, 0),
        (1.629816853, 10.917758962, 0),
        (-1.629816853, 10.917758962, 0),
        (-2.325, 12.827758962, 0),
        (2.325, 12.827758962, 0),
        (6.464471191, 11.321114663, 0),
        (10.026577851, 8.332152278, 0),
        (12.229144467, 4.517194993, 0),
        (13.036608493, -0.062161058, 0),
        (12.271665135, -4.400370417, 0),
        (9.946665135, -8.427388545, 0),
        (6.572137302, -11.258953605, 0),
        (2.202566616, -12.849347271, 0),
        (-2.202566616, -12.849347271, 0),
        (-6.572137302, -11.258953605, 0),
        (-9.946665135, -8.427388545, 0),
        (-12.271665135, -4.400370417, 0),
        (-13.036608493, -0.062161058, 0),
        (-12.229144467, 4.517194993, 0),
        (-10.026577851, 8.332152278, 0),
        (-6.464471191, 11.321114663, 0),
    ]]
    fillet(fillet1_edges, radius=FILLET1_R)


solid = part.part
